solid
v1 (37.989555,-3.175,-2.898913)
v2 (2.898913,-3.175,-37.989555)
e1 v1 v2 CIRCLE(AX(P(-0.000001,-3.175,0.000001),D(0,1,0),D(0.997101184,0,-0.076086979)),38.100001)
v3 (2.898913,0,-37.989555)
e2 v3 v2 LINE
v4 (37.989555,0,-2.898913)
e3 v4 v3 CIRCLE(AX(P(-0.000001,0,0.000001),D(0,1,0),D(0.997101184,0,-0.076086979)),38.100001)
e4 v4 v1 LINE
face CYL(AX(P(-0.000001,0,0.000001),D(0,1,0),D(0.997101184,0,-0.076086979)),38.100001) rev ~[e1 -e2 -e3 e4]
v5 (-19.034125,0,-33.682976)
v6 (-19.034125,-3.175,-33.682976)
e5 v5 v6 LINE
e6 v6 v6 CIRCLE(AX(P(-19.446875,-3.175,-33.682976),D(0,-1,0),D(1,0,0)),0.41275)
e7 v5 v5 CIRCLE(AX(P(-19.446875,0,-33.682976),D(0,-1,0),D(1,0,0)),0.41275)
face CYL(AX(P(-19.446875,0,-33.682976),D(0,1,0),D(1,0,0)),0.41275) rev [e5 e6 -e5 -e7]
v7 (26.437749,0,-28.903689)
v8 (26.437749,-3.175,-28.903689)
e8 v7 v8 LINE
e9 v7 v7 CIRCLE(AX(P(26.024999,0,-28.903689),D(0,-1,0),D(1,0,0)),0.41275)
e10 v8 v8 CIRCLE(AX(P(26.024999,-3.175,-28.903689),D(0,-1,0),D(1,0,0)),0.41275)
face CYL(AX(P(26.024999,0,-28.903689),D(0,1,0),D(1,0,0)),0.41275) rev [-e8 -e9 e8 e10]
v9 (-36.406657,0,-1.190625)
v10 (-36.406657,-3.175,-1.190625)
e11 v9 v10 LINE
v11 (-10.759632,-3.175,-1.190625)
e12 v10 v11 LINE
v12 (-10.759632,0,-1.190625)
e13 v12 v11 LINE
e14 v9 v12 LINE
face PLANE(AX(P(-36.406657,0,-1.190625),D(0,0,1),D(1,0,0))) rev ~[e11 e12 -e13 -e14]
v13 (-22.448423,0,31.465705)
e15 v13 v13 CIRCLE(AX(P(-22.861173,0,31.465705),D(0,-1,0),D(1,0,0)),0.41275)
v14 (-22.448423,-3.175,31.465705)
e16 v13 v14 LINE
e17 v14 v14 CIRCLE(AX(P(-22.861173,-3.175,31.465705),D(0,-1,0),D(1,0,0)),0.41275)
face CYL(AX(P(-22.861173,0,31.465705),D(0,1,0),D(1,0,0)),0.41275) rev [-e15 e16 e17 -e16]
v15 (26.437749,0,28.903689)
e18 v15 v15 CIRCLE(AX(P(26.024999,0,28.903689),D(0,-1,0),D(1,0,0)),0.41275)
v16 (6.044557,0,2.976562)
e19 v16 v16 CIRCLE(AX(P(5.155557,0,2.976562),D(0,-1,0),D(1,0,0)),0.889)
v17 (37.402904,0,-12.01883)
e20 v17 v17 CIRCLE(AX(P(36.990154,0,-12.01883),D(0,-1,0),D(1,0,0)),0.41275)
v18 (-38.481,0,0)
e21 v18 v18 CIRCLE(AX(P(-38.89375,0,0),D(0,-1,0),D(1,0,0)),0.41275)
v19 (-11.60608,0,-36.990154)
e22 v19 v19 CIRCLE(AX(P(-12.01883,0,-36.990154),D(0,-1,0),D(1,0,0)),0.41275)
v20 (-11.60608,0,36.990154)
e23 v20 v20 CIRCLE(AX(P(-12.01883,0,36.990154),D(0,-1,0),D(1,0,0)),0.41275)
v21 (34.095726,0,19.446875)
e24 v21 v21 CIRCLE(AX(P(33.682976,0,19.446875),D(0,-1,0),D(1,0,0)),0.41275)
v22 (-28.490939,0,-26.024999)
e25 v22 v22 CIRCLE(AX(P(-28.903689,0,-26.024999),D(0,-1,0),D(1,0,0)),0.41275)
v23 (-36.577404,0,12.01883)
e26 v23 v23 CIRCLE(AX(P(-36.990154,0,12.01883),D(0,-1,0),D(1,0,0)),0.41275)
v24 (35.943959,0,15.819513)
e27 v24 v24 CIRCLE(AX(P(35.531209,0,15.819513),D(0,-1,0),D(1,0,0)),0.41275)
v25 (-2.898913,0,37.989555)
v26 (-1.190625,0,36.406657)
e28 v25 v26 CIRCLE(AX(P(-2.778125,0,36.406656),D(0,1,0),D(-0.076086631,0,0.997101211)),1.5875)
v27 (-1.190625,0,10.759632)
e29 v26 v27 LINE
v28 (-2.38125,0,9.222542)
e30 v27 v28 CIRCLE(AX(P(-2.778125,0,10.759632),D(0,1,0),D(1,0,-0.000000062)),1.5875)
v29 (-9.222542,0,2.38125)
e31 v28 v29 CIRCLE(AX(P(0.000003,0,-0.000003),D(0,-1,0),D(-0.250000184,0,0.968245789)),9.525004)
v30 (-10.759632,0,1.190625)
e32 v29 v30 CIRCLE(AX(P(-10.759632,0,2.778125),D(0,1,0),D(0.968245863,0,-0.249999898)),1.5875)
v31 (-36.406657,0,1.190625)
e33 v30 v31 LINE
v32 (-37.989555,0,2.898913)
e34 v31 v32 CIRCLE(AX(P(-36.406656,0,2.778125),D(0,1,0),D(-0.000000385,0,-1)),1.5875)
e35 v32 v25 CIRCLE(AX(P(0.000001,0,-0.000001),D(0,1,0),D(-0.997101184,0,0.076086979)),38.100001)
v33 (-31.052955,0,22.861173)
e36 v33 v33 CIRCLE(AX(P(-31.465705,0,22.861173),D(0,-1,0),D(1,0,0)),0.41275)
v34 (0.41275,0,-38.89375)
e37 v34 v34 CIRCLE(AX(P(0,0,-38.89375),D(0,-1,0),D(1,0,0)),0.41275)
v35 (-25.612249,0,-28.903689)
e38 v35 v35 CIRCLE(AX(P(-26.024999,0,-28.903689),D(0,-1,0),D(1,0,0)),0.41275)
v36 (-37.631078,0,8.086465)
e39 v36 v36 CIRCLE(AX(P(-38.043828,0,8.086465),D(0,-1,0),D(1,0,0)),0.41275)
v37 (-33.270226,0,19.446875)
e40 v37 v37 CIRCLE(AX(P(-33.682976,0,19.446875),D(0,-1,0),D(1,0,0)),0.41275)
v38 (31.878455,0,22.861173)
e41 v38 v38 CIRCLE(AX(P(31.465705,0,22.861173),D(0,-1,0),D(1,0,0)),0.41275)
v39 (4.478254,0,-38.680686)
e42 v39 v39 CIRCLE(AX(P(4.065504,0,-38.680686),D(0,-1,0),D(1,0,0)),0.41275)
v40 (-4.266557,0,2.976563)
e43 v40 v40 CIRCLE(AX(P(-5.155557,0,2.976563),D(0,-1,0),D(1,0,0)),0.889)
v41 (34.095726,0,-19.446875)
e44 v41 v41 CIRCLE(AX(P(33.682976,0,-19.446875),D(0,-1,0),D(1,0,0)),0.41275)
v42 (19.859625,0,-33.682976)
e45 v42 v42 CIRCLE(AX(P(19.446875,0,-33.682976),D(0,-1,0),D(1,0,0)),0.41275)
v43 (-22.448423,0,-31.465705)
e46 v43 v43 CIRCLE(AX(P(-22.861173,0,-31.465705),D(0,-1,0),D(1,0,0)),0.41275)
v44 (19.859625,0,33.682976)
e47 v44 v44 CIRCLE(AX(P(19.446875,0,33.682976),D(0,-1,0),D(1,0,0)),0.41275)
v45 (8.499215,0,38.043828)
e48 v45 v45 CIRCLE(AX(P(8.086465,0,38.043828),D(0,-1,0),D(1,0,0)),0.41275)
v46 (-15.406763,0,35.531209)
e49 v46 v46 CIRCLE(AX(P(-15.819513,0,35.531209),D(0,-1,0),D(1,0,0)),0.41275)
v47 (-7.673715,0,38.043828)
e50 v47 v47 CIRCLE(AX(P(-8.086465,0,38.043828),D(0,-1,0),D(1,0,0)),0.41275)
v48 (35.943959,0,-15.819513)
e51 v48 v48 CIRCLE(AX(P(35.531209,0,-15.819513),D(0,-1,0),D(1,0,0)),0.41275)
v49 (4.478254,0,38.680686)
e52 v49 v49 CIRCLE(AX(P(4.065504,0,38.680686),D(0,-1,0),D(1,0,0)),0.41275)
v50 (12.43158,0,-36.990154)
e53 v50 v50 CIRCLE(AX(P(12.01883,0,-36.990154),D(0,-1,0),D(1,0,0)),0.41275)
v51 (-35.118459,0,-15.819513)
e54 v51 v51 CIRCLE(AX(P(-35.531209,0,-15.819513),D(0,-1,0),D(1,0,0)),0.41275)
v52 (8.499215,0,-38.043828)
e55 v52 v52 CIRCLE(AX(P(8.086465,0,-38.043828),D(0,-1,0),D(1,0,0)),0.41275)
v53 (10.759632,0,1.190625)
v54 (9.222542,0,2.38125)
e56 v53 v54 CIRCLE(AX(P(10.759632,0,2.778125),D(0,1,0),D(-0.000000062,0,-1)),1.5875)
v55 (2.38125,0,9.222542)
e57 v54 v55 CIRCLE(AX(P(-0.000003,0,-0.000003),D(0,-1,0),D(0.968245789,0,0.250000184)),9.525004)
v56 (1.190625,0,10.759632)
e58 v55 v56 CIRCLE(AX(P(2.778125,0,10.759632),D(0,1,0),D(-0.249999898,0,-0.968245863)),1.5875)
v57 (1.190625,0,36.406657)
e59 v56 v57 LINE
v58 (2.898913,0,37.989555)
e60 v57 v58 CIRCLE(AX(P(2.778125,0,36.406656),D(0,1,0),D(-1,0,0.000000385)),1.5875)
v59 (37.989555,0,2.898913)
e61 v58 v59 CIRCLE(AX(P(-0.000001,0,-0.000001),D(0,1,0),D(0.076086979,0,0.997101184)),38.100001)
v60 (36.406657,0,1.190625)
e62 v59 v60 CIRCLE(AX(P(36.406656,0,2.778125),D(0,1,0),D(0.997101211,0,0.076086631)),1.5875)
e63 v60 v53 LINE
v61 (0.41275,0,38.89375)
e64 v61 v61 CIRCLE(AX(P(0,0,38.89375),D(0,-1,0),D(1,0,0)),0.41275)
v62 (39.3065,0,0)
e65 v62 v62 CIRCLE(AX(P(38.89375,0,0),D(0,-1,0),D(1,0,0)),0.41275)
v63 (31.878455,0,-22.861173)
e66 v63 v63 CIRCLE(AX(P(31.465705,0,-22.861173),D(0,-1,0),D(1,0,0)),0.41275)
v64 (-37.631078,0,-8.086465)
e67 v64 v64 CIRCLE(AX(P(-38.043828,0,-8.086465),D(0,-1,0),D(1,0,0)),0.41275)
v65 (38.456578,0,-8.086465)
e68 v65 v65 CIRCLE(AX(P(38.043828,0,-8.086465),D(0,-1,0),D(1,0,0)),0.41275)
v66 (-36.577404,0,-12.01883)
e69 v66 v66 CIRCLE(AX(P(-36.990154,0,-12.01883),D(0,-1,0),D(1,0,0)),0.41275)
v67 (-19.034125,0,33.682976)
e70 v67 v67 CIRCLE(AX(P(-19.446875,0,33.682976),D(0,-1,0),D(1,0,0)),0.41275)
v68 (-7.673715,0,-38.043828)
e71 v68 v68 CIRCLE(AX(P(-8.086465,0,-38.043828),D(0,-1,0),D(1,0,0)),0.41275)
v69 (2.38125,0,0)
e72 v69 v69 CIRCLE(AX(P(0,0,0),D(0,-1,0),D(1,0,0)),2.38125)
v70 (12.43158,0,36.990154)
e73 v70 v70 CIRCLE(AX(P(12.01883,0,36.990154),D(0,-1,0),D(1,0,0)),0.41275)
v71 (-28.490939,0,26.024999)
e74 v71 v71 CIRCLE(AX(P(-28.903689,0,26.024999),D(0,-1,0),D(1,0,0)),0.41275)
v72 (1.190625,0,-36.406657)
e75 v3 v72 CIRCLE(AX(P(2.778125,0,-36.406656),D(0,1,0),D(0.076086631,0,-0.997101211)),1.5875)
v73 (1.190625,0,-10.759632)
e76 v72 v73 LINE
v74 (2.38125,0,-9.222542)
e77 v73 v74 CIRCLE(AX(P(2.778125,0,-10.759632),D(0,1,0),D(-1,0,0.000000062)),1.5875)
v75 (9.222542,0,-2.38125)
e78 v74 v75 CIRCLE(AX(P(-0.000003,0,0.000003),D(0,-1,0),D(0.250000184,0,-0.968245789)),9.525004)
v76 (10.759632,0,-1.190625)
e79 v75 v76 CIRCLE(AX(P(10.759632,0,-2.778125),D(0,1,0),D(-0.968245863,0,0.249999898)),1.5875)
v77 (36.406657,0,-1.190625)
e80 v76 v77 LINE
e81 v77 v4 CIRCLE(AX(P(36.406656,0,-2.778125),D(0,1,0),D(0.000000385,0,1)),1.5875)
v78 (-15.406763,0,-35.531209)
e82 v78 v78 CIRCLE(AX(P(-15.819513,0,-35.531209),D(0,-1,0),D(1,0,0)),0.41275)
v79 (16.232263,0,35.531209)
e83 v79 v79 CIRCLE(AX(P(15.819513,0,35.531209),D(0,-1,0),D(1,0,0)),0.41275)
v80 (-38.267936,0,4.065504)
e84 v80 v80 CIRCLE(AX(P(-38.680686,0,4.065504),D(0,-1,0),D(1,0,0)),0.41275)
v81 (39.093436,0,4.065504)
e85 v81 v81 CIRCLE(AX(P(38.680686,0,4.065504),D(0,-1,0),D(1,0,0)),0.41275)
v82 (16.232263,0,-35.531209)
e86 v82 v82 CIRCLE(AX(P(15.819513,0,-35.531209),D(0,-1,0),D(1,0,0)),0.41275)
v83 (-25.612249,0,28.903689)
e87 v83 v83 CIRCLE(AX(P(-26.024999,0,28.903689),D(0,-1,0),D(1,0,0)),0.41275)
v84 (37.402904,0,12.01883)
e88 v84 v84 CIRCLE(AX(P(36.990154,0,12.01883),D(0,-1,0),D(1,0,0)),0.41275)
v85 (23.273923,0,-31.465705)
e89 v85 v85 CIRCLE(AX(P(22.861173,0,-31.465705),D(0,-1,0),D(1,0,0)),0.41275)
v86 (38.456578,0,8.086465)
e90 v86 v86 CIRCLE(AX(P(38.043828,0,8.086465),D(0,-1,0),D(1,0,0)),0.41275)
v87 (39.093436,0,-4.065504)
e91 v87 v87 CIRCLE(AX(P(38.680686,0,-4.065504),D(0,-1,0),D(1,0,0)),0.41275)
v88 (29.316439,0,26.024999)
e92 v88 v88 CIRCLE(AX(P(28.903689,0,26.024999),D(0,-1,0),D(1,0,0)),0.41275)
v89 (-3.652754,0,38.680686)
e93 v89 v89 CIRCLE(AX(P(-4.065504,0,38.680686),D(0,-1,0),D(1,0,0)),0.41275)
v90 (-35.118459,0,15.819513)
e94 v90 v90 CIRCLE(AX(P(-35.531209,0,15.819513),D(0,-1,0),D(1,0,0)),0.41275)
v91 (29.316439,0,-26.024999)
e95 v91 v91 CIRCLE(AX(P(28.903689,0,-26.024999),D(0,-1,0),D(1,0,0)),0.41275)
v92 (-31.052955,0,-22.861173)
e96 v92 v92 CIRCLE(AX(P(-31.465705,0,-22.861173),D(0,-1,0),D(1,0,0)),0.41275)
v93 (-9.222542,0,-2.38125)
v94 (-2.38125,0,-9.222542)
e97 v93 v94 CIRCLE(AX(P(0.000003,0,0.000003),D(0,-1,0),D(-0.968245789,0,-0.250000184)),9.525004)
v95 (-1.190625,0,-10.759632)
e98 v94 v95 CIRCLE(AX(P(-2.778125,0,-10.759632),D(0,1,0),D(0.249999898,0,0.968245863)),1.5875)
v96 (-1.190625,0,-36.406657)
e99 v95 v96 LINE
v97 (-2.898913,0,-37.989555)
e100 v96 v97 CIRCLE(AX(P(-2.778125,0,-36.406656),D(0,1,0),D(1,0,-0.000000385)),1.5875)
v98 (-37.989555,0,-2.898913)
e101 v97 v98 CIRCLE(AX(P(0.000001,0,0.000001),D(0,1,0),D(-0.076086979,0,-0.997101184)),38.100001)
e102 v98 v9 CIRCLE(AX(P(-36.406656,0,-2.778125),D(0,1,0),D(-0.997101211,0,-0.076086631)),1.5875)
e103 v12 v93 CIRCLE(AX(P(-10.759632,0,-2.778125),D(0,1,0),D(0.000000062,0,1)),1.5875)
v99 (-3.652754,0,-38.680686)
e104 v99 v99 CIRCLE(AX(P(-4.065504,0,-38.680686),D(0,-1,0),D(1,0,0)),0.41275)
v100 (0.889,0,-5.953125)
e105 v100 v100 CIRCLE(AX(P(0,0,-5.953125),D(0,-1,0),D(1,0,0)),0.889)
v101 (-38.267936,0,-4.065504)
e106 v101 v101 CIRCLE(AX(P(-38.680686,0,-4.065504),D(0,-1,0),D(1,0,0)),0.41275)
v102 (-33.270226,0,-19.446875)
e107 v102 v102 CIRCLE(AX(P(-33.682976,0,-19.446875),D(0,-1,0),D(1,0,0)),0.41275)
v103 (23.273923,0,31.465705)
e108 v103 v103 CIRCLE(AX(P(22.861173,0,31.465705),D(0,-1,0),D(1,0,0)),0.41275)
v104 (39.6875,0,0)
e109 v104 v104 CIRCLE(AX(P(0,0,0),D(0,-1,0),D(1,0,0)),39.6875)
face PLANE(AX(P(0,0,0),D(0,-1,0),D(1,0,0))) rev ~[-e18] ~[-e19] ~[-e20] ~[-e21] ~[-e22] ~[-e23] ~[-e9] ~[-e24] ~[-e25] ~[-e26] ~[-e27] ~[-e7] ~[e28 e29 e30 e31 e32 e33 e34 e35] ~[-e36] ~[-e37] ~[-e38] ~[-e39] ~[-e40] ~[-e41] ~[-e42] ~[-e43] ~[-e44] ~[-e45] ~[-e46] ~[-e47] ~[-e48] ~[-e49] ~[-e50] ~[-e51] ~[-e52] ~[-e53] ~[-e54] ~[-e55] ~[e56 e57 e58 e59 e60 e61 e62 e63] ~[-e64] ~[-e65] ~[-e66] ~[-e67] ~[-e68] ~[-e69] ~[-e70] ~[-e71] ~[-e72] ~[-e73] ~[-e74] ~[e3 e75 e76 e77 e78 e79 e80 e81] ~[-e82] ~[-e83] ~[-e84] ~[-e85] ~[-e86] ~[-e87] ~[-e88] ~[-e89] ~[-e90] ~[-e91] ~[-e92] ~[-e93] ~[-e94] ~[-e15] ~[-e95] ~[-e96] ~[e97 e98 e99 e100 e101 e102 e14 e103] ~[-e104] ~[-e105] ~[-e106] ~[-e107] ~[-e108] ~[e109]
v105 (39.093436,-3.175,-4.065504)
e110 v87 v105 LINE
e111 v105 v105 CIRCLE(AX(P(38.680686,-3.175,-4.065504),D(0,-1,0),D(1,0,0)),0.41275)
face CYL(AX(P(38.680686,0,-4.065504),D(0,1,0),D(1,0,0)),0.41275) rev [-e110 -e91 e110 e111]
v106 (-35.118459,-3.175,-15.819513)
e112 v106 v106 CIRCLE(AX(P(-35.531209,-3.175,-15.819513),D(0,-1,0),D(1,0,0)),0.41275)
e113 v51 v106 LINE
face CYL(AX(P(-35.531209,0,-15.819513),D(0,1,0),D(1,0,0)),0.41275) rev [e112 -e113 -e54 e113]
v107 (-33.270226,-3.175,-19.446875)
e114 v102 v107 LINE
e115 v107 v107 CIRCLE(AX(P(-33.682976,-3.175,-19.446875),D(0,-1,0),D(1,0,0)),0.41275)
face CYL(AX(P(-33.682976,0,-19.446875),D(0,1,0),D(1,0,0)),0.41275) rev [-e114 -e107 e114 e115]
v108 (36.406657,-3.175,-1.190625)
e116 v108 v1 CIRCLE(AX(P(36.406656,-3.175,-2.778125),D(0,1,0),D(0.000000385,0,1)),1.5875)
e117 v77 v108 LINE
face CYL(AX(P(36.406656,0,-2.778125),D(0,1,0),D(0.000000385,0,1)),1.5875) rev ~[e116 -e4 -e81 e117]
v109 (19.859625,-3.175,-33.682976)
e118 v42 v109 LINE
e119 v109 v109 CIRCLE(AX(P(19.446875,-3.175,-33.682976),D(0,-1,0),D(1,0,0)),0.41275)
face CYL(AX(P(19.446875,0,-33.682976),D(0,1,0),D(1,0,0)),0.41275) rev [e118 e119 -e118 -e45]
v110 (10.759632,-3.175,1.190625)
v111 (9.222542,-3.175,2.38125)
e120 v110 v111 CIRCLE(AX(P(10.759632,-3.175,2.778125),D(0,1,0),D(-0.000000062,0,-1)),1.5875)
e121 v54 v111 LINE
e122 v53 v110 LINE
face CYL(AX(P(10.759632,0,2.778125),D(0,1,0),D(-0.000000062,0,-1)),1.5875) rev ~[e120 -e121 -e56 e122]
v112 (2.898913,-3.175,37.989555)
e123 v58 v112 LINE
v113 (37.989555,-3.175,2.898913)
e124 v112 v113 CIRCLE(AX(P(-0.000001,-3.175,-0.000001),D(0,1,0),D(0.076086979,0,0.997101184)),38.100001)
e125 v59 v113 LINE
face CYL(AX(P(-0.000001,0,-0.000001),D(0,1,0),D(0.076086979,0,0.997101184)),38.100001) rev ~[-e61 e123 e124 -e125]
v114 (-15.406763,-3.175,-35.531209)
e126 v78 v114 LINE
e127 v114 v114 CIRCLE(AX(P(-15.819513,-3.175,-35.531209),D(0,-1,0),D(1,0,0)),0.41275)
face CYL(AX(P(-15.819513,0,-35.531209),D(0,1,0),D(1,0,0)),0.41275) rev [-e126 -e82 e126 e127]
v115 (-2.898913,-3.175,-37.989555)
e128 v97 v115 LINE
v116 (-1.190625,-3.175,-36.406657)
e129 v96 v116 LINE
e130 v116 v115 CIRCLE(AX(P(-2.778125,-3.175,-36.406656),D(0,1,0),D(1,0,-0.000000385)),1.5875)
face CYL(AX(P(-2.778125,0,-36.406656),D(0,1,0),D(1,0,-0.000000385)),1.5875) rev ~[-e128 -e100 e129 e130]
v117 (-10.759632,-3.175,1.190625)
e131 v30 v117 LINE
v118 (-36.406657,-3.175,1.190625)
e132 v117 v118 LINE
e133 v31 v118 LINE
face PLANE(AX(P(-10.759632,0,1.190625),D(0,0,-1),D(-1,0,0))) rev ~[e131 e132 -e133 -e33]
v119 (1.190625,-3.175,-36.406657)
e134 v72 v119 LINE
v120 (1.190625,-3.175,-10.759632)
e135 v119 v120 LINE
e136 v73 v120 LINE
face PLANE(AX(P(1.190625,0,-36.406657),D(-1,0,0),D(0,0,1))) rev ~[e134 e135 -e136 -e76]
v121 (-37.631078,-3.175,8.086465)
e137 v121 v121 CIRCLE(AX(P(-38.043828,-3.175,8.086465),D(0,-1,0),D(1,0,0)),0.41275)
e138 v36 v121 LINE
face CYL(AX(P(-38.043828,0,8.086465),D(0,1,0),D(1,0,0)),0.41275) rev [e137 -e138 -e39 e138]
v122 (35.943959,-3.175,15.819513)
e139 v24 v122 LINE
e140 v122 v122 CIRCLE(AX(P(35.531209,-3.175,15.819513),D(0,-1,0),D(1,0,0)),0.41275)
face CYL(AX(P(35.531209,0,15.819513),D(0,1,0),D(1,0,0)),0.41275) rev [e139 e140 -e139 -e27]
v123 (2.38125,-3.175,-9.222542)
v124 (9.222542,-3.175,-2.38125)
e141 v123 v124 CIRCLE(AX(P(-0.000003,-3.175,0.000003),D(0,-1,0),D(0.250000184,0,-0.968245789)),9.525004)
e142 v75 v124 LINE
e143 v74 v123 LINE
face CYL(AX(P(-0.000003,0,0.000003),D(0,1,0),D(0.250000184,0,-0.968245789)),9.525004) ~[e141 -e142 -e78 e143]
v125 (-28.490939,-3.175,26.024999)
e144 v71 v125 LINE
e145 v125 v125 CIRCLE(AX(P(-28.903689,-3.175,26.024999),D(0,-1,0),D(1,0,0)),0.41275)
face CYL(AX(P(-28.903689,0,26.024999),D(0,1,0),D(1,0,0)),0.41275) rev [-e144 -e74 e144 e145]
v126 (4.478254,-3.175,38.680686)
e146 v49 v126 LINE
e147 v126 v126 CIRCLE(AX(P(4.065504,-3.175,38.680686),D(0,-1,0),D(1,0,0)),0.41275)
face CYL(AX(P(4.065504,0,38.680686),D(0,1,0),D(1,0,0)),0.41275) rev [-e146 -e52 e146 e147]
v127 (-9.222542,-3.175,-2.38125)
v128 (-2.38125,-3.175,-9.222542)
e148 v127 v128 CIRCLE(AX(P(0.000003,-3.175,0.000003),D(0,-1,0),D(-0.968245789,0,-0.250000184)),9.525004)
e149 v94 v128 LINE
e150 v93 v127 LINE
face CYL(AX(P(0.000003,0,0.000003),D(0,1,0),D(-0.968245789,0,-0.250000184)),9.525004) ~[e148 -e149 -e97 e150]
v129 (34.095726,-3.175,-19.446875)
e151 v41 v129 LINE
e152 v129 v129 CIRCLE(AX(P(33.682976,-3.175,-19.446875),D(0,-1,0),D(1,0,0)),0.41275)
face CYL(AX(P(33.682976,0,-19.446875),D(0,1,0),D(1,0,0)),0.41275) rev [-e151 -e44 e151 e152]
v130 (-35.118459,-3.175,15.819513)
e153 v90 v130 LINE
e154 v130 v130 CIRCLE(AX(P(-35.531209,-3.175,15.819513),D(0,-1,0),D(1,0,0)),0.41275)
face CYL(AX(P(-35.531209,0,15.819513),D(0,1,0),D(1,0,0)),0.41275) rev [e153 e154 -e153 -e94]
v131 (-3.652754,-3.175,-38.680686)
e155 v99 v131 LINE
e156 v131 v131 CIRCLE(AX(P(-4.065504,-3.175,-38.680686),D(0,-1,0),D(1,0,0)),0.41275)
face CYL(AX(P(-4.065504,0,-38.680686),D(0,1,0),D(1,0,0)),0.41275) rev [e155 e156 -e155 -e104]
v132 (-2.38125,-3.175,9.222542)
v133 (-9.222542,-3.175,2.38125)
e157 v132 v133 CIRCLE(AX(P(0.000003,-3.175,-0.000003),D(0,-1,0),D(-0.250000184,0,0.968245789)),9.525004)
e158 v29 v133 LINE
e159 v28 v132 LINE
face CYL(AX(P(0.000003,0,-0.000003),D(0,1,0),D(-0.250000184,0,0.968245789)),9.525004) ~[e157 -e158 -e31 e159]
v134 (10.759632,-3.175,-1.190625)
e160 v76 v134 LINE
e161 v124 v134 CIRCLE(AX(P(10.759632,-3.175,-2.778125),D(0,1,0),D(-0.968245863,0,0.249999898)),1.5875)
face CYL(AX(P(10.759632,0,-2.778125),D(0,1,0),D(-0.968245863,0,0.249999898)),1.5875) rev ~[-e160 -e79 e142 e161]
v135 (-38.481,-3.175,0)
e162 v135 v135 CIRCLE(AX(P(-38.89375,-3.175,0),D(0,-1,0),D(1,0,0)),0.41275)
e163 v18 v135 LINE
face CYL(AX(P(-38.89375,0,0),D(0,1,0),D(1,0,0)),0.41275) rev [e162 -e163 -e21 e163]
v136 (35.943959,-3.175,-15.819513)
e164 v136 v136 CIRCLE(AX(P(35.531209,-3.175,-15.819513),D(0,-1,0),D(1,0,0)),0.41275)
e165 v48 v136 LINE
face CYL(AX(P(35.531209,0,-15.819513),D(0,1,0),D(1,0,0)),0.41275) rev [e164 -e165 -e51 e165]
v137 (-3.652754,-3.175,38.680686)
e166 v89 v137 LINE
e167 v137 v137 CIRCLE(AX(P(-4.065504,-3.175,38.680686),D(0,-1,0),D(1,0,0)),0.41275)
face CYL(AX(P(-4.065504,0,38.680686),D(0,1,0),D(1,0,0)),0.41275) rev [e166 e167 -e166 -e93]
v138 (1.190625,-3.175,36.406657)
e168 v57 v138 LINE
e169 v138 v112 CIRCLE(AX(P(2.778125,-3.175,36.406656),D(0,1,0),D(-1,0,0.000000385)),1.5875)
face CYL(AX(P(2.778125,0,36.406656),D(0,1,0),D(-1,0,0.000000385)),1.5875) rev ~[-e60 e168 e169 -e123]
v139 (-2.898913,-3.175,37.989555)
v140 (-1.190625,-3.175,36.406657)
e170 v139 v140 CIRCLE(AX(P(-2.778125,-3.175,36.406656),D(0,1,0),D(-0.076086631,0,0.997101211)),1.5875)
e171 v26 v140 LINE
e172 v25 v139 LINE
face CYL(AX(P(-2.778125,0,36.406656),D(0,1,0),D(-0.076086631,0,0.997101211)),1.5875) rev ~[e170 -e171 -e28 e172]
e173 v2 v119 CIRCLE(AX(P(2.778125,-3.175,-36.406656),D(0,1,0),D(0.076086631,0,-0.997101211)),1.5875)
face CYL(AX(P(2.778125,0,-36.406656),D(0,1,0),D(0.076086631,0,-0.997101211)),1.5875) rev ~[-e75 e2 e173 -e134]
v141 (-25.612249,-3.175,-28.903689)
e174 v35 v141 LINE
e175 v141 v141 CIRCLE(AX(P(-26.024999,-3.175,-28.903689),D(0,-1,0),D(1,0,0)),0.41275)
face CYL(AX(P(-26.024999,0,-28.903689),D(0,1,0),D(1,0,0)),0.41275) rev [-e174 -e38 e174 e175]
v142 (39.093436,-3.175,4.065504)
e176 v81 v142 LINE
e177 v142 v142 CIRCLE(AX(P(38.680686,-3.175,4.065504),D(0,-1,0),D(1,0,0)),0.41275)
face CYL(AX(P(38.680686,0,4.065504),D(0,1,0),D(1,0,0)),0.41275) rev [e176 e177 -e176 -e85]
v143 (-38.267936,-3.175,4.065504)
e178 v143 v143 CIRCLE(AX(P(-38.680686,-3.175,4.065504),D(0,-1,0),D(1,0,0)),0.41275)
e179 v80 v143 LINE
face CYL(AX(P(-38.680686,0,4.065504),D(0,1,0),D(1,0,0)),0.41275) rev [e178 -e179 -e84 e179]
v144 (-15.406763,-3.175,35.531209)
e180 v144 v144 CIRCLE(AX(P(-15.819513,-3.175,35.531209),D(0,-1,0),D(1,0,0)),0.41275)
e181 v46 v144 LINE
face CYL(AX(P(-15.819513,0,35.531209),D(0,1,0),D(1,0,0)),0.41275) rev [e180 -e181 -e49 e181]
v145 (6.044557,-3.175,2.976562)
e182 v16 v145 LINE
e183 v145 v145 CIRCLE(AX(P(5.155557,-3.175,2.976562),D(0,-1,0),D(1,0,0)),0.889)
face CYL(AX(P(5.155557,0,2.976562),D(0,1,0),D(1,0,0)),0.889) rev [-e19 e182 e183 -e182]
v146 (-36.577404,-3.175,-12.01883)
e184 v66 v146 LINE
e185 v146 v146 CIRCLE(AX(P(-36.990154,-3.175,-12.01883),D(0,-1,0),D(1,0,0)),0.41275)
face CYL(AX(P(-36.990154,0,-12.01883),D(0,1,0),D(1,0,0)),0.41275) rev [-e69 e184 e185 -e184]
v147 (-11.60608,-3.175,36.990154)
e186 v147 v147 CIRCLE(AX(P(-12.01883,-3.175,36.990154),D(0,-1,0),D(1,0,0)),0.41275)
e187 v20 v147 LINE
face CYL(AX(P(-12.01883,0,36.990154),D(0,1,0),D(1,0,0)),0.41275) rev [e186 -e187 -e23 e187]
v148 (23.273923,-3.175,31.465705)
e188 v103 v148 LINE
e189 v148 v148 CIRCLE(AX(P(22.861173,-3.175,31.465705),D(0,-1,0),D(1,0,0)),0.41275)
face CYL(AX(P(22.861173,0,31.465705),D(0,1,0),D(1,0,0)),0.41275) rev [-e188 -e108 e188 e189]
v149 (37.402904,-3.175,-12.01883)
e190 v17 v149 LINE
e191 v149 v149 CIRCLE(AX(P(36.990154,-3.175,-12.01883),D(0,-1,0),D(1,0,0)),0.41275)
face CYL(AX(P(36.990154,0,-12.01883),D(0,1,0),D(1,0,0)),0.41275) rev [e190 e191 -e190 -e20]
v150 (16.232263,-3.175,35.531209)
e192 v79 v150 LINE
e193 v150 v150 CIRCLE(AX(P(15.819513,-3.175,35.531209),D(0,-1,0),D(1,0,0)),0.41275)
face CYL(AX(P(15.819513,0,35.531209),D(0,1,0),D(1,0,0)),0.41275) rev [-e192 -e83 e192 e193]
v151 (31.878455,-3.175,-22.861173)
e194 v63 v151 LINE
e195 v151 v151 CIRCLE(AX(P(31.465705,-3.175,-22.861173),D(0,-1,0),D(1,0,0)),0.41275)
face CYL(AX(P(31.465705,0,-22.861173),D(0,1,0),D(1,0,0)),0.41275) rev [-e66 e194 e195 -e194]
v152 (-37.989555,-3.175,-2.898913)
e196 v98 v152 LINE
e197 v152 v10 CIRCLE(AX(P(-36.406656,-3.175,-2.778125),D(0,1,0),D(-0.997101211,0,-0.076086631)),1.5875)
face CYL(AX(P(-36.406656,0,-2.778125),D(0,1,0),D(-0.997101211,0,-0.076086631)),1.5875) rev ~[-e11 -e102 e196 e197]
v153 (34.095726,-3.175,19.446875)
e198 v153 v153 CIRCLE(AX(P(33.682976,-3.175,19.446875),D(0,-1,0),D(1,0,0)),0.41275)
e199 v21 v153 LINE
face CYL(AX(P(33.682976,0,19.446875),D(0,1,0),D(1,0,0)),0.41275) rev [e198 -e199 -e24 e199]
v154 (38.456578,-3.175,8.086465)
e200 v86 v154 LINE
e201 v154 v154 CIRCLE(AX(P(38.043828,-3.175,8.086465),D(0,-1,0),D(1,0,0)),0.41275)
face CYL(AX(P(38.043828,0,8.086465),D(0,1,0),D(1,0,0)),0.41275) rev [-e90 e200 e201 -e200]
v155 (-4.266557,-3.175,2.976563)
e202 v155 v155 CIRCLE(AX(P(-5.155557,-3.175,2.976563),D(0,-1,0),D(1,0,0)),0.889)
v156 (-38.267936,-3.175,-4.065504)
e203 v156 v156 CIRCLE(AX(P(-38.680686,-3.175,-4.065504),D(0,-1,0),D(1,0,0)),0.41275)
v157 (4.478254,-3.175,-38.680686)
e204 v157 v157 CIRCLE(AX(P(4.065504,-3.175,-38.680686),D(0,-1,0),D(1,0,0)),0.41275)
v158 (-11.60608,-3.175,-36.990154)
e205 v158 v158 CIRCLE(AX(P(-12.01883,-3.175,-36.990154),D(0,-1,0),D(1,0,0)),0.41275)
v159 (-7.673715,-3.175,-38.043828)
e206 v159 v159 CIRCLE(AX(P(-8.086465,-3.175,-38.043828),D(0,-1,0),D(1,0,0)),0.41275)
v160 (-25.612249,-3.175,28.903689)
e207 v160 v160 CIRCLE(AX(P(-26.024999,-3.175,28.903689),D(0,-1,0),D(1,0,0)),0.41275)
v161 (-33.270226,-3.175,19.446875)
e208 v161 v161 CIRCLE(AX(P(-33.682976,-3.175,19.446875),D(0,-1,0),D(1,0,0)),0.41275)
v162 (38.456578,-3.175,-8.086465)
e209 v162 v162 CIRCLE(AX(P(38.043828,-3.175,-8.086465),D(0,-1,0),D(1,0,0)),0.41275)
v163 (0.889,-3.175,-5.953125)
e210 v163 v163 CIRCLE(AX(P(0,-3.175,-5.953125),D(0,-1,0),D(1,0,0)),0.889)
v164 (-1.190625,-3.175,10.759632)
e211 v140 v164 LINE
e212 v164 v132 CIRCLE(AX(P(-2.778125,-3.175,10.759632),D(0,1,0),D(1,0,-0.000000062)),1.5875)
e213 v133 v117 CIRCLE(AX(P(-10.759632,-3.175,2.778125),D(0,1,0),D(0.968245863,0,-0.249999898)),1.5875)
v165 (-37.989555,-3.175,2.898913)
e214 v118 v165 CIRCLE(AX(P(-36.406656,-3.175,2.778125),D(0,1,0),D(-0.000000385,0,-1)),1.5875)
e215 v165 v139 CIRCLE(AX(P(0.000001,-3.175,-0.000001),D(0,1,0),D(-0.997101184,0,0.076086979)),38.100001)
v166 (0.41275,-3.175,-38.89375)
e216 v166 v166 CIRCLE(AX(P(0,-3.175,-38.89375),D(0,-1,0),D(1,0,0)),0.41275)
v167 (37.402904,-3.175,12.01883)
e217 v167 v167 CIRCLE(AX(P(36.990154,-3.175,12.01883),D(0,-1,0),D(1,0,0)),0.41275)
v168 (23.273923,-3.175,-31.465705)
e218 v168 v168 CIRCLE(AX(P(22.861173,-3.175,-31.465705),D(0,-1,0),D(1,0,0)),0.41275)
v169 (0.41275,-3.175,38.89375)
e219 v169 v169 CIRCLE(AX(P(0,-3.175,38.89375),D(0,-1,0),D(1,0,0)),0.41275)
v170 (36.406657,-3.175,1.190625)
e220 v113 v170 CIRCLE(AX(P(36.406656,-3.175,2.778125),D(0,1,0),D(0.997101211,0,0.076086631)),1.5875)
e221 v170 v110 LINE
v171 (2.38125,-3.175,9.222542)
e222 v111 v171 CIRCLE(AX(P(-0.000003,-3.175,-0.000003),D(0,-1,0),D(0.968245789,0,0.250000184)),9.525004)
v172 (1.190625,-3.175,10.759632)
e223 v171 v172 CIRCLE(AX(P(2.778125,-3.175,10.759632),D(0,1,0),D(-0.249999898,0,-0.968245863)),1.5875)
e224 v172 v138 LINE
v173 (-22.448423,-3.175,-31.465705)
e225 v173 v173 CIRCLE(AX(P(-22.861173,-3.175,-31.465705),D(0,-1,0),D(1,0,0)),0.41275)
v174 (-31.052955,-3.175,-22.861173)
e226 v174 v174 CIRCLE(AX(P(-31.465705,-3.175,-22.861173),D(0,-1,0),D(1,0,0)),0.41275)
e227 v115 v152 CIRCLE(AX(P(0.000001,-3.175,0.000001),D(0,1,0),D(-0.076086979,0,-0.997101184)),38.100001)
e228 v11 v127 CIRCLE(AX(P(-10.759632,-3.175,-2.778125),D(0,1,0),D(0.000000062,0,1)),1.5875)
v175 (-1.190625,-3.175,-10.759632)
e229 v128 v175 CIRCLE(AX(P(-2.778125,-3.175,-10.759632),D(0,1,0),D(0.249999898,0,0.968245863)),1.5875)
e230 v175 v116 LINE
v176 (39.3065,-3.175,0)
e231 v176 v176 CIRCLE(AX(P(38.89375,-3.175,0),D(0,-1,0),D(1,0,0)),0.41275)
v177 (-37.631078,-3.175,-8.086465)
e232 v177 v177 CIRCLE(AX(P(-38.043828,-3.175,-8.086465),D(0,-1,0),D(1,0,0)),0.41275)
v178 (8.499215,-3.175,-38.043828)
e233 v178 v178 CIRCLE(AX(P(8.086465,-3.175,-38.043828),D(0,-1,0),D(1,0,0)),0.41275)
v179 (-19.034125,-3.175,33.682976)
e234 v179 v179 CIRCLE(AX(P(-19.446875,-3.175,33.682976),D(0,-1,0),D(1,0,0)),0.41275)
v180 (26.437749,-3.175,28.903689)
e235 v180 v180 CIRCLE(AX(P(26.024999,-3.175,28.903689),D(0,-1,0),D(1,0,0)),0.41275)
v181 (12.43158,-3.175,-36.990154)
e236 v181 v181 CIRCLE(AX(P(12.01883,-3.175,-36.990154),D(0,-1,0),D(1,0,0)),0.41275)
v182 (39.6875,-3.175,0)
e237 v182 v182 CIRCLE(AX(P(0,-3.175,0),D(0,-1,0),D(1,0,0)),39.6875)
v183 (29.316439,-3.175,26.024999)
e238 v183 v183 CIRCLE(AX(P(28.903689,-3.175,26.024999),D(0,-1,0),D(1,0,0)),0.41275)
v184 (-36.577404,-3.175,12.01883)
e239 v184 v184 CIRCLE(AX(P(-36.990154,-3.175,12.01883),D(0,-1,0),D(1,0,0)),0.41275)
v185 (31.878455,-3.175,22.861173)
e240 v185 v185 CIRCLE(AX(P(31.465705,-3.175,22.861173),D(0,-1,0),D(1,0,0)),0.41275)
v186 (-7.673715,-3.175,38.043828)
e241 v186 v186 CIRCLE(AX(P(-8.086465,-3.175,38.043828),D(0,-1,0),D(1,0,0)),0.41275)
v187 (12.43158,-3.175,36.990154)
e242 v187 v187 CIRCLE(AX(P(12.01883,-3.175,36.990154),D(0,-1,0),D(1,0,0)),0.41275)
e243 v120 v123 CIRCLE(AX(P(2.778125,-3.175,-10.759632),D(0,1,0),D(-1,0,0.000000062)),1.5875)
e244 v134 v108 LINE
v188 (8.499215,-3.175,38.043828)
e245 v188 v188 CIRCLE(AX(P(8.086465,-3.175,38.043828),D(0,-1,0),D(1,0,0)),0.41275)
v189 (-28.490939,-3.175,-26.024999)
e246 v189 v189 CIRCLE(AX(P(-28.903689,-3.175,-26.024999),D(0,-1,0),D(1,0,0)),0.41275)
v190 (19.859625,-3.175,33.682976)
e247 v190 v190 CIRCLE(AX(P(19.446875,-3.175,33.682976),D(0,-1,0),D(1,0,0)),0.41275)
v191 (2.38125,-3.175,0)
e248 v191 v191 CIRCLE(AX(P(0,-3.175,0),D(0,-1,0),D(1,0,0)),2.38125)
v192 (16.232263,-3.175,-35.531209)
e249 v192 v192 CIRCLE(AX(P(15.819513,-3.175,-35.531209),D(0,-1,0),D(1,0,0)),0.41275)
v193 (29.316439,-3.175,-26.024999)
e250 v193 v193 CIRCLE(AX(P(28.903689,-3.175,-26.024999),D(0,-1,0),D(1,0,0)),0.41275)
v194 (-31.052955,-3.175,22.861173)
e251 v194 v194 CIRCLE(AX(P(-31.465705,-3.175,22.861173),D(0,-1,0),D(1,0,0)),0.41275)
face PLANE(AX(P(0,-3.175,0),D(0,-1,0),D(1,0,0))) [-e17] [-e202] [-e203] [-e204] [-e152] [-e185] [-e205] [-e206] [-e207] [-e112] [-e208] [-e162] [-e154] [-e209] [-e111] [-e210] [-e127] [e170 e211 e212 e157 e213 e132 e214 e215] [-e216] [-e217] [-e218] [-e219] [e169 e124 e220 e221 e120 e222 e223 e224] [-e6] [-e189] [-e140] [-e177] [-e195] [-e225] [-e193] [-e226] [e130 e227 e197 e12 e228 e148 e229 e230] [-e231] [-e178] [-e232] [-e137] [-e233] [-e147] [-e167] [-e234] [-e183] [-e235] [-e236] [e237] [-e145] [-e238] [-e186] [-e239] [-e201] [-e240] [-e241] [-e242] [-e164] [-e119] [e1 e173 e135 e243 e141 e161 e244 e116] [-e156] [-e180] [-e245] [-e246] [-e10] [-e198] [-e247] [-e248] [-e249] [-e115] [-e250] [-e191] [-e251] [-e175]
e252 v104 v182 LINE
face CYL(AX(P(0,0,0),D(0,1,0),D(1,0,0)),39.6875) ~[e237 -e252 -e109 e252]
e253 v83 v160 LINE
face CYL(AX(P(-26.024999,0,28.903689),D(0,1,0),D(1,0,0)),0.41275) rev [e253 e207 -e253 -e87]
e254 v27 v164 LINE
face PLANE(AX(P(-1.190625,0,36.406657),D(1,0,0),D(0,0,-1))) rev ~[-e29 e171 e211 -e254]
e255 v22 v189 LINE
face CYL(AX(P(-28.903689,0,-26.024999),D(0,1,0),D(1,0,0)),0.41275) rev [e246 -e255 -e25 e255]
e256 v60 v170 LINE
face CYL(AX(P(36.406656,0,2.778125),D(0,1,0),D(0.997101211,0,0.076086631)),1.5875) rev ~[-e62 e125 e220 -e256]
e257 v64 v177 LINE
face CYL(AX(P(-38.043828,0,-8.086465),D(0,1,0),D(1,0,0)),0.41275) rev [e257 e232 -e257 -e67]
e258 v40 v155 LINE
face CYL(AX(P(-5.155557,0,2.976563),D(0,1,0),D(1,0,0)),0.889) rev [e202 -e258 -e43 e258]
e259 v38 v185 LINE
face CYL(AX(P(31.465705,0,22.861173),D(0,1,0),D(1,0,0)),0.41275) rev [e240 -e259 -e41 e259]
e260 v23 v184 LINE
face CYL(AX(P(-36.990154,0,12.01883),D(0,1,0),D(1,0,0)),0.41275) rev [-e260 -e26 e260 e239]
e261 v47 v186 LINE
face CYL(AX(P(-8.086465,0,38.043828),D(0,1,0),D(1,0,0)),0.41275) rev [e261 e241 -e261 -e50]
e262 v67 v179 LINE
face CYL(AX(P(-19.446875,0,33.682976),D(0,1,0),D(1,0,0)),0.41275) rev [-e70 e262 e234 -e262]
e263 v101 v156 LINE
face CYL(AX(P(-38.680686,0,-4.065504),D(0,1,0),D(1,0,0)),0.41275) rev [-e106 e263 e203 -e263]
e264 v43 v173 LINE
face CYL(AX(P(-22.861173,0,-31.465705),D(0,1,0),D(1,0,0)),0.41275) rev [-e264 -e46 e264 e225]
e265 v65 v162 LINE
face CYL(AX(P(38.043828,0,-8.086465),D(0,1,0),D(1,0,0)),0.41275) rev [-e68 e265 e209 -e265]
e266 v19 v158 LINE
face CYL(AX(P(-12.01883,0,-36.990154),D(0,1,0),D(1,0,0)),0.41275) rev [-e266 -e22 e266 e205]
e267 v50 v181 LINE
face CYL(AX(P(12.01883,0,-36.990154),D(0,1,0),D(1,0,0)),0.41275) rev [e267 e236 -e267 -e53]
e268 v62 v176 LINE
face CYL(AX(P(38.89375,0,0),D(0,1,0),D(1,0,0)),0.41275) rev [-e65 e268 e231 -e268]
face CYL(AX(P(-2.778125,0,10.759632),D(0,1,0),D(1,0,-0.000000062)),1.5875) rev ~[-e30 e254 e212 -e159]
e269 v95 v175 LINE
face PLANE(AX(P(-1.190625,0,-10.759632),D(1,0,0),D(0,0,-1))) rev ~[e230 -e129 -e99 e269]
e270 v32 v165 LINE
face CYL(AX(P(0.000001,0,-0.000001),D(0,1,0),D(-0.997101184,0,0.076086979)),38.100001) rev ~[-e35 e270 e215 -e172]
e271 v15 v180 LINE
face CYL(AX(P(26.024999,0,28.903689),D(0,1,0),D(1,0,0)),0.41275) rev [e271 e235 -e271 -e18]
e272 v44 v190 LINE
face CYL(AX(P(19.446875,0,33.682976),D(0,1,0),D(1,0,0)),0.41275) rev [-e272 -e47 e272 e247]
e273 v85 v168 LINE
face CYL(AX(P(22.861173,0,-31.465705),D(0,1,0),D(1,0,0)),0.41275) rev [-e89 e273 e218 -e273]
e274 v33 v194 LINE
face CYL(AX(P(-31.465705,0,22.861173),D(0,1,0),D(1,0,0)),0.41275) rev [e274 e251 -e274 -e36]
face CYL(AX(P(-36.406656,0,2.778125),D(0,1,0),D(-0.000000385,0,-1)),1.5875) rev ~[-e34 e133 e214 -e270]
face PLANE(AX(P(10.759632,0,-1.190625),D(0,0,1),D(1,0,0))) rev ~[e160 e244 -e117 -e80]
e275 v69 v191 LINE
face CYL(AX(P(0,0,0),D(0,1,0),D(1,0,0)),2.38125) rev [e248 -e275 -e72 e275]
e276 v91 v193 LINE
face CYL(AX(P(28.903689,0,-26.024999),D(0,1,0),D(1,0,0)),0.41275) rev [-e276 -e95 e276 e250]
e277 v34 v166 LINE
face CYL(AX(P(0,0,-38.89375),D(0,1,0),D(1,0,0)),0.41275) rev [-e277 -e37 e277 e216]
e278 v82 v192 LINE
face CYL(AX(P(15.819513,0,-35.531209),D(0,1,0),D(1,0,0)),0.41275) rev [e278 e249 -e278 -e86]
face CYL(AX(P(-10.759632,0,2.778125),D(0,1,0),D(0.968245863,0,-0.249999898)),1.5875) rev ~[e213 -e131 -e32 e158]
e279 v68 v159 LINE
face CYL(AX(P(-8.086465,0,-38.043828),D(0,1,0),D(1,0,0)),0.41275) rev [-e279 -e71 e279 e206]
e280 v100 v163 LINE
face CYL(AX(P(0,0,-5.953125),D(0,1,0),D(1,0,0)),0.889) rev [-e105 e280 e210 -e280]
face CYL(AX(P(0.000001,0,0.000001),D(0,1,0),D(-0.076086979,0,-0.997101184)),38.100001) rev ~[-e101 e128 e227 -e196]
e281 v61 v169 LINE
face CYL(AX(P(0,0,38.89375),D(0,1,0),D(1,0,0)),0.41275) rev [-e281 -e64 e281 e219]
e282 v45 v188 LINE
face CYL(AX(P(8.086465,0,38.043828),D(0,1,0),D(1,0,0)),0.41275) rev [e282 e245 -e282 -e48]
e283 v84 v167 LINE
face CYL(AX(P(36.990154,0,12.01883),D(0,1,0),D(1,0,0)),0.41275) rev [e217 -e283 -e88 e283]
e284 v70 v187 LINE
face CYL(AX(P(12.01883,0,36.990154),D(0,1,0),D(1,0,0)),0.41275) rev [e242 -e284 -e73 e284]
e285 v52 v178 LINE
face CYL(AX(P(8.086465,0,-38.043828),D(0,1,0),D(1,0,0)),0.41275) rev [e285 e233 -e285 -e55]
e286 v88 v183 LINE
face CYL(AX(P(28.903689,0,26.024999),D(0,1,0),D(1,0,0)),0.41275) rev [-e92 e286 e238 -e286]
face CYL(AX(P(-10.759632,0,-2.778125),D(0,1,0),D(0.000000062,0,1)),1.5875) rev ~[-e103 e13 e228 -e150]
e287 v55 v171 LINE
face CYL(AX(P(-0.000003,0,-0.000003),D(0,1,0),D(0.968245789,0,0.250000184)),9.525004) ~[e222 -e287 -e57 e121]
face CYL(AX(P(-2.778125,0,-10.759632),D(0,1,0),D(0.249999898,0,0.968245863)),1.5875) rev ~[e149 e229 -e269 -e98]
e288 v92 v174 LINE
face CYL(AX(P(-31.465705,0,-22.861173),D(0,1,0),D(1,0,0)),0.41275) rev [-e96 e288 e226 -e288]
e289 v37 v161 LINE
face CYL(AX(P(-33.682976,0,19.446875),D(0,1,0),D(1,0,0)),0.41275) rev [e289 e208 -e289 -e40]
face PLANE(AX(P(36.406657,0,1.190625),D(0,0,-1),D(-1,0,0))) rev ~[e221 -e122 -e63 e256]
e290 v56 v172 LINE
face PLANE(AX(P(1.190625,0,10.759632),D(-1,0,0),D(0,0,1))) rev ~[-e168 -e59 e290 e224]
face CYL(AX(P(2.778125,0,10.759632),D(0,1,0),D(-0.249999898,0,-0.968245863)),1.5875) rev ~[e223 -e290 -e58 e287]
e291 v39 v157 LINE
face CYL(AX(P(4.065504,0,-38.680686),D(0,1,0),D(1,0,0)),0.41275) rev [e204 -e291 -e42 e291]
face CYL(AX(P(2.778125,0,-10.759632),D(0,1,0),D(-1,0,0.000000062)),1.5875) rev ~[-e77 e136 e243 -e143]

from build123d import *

# Parameters (mm, degrees)
F0_R     = 39.6875
F0_R_2   = 0.41275
F0_R_3   = 0.889
F0_R_4   = 2.38125
F1_DEPTH = 3.175


with BuildPart() as f1:
    # F0 (on Front) → F1 (new body)
    with BuildSketch(Plane.XZ):
        Circle(F0_R)
        with Locations((-22.861173, -31.465705)):
            Circle(F0_R_2, mode=Mode.SUBTRACT)
        with Locations((-31.465705, -22.861173)):
            Circle(F0_R_2, mode=Mode.SUBTRACT)
        with Locations((-26.024999, -28.903689)):
            Circle(F0_R_2, mode=Mode.SUBTRACT)
        with Locations((-28.903689, -26.024999)):
            Circle(F0_R_2, mode=Mode.SUBTRACT)
        with Locations((-15.819513, -35.531209)):
            Circle(F0_R_2, mode=Mode.SUBTRACT)
        with Locations((-12.01883, -36.990154)):
            Circle(F0_R_2, mode=Mode.SUBTRACT)
        with Locations((-19.446875, -33.682976)):
            Circle(F0_R_2, mode=Mode.SUBTRACT)
        with Locations((-8.086465, -38.043828)):
            Circle(F0_R_2, mode=Mode.SUBTRACT)
        with Locations((-4.065504, -38.680686)):
            Circle(F0_R_2, mode=Mode.SUBTRACT)
        with Locations((-35.531209, -15.819513)):
            Circle(F0_R_2, mode=Mode.SUBTRACT)
        with Locations((-33.682976, -19.446875)):
            Circle(F0_R_2, mode=Mode.SUBTRACT)
        with Locations((-36.990154, -12.01883)):
            Circle(F0_R_2, mode=Mode.SUBTRACT)
        with Locations((-38.043828, -8.086465)):
            Circle(F0_R_2, mode=Mode.SUBTRACT)
        with Locations((-38.680686, -4.065504)):
            Circle(F0_R_2, mode=Mode.SUBTRACT)
        with BuildLine():
            ThreePointArc((-37.989555, -2.898913), (-37.571111, -1.699143), (-36.406657, -1.190625))
            Line((-36.406657, -1.190625), (-10.759632, -1.190625))
            ThreePointArc((-10.759632, -1.190625), (-9.787491, -1.523096), (-9.222542, -2.38125))
            ThreePointArc((-9.222542, -2.38125), (-6.735192, -6.735192), (-2.38125, -9.222542))
            ThreePointArc((-2.38125, -9.222542), (-1.523096, -9.787491), (-1.190625, -10.759632))
            Line((-1.190625, -10.759632), (-1.190625, -36.406657))
            ThreePointArc((-1.190625, -36.406657), (-1.699143, -37.571111), (-2.898913, -37.989555))
            ThreePointArc((-2.898913, -37.989555), (-26.940768, -26.940768), (-37.989555, -2.898913))
        make_face(mode=Mode.SUBTRACT)
        with Locations((0, -38.89375)):
            Circle(F0_R_2, mode=Mode.SUBTRACT)
        with Locations((4.065504, -38.680686)):
            Circle(F0_R_2, mode=Mode.SUBTRACT)
        with Locations((8.086465, -38.043828)):
            Circle(F0_R_2, mode=Mode.SUBTRACT)
        with Locations((12.01883, -36.990154)):
            Circle(F0_R_2, mode=Mode.SUBTRACT)
        with Locations((15.819513, -35.531209)):
            Circle(F0_R_2, mode=Mode.SUBTRACT)
        with Locations((19.446875, -33.682976)):
            Circle(F0_R_2, mode=Mode.SUBTRACT)
        with Locations((22.861173, -31.465705)):
            Circle(F0_R_2, mode=Mode.SUBTRACT)
        with Locations((26.024999, -28.903689)):
            Circle(F0_R_2, mode=Mode.SUBTRACT)
        with Locations((28.903689, -26.024999)):
            Circle(F0_R_2, mode=Mode.SUBTRACT)
        with Locations((31.465705, -22.861173)):
            Circle(F0_R_2, mode=Mode.SUBTRACT)
        with BuildLine():
            ThreePointArc((2.898913, -37.989555), (1.699143, -37.571111), (1.190625, -36.406657))
            Line((1.190625, -36.406657), (1.190625, -10.759632))
            ThreePointArc((1.190625, -10.759632), (1.523096, -9.787491), (2.38125, -9.222542))
            ThreePointArc((2.38125, -9.222542), (6.735192, -6.735192), (9.222542, -2.38125))
            ThreePointArc((9.222542, -2.38125), (9.787491, -1.523096), (10.759632, -1.190625))
            Line((10.759632, -1.190625), (36.406657, -1.190625))
            ThreePointArc((36.406657, -1.190625), (37.571111, -1.699143), (37.989555, -2.898913))
            ThreePointArc((37.989555, -2.898913), (26.940768, -26.940768), (2.898913, -37.989555))
        make_face(mode=Mode.SUBTRACT)
        with Locations((0, -5.953125)):
            Circle(F0_R_3, mode=Mode.SUBTRACT)
        with Locations((33.682976, -19.446875)):
            Circle(F0_R_2, mode=Mode.SUBTRACT)
        with Locations((35.531209, -15.819513)):
            Circle(F0_R_2, mode=Mode.SUBTRACT)
        with Locations((36.990154, -12.01883)):
            Circle(F0_R_2, mode=Mode.SUBTRACT)
        with Locations((38.043828, -8.086465)):
            Circle(F0_R_2, mode=Mode.SUBTRACT)
        with Locations((38.680686, -4.065504)):
            Circle(F0_R_2, mode=Mode.SUBTRACT)
        with Locations((-38.89375, 0)):
            Circle(F0_R_2, mode=Mode.SUBTRACT)
        with Locations((-38.680686, 4.065504)):
            Circle(F0_R_2, mode=Mode.SUBTRACT)
        with Locations((-38.043828, 8.086465)):
            Circle(F0_R_2, mode=Mode.SUBTRACT)
        with Locations((-36.990154, 12.01883)):
            Circle(F0_R_2, mode=Mode.SUBTRACT)
        with Locations((-35.531209, 15.819513)):
            Circle(F0_R_2, mode=Mode.SUBTRACT)
        with Locations((-33.682976, 19.446875)):
            Circle(F0_R_2, mode=Mode.SUBTRACT)
        with Locations((-5.155557, 2.976563)):
            Circle(F0_R_3, mode=Mode.SUBTRACT)
        with BuildLine():
            ThreePointArc((-37.989555, 2.898913), (-26.940768, 26.940768), (-2.898913, 37.989555))
            ThreePointArc((-2.898913, 37.989555), (-1.699143, 37.571111), (-1.190625, 36.406657))
            Line((-1.190625, 36.406657), (-1.190625, 10.759632))
            ThreePointArc((-1.190625, 10.759632), (-1.523096, 9.787491), (-2.38125, 9.222542))
            ThreePointArc((-2.38125, 9.222542), (-6.735192, 6.735192), (-9.222542, 2.38125))
            ThreePointArc((-9.222542, 2.38125), (-9.787491, 1.523096), (-10.759632, 1.190625))
            Line((-10.759632, 1.190625), (-36.406657, 1.190625))
            ThreePointArc((-36.406657, 1.190625), (-37.571111, 1.699143), (-37.989555, 2.898913))
        make_face(mode=Mode.SUBTRACT)
        with Locations((-31.465705, 22.861173)):
            Circle(F0_R_2, mode=Mode.SUBTRACT)
        with Locations((-28.903689, 26.024999)):
            Circle(F0_R_2, mode=Mode.SUBTRACT)
        with Locations((-26.024999, 28.903689)):
            Circle(F0_R_2, mode=Mode.SUBTRACT)
        with Locations((-22.861173, 31.465705)):
            Circle(F0_R_2, mode=Mode.SUBTRACT)
        with Locations((-19.446875, 33.682976)):
            Circle(F0_R_2, mode=Mode.SUBTRACT)
        with Locations((-15.819513, 35.531209)):
            Circle(F0_R_2, mode=Mode.SUBTRACT)
        with Locations((-12.01883, 36.990154)):
            Circle(F0_R_2, mode=Mode.SUBTRACT)
        with Locations((-8.086465, 38.043828)):
            Circle(F0_R_2, mode=Mode.SUBTRACT)
        with Locations((-4.065504, 38.680686)):
            Circle(F0_R_2, mode=Mode.SUBTRACT)
        Circle(F0_R_4, mode=Mode.SUBTRACT)
        with Locations((5.155557, 2.976562)):
            Circle(F0_R_3, mode=Mode.SUBTRACT)
        with BuildLine():
            Line((1.190625, 10.759632), (1.190625, 36.406657))
            ThreePointArc((1.190625, 36.406657), (1.699143, 37.571111), (2.898913, 37.989555))
            ThreePointArc((2.898913, 37.989555), (26.940768, 26.940768), (37.989555, 2.898913))
            ThreePointArc((37.989555, 2.898913), (37.571111, 1.699143), (36.406657, 1.190625))
            Line((36.406657, 1.190625), (10.759632, 1.190625))
            ThreePointArc((10.759632, 1.190625), (9.787491, 1.523096), (9.222542, 2.38125))
            ThreePointArc((9.222542, 2.38125), (6.735192, 6.735192), (2.38125, 9.222542))
            ThreePointArc((2.38125, 9.222542), (1.523096, 9.787491), (1.190625, 10.759632))
        make_face(mode=Mode.SUBTRACT)
        with Locations((38.89375, 0)):
            Circle(F0_R_2, mode=Mode.SUBTRACT)
        with Locations((38.680686, 4.065504)):
            Circle(F0_R_2, mode=Mode.SUBTRACT)
        with Locations((38.043828, 8.086465)):
            Circle(F0_R_2, mode=Mode.SUBTRACT)
        with Locations((36.990154, 12.01883)):
            Circle(F0_R_2, mode=Mode.SUBTRACT)
        with Locations((33.682976, 19.446875)):
            Circle(F0_R_2, mode=Mode.SUBTRACT)
        with Locations((35.531209, 15.819513)):
            Circle(F0_R_2, mode=Mode.SUBTRACT)
        with Locations((0, 38.89375)):
            Circle(F0_R_2, mode=Mode.SUBTRACT)
        with Locations((4.065504, 38.680686)):
            Circle(F0_R_2, mode=Mode.SUBTRACT)
        with Locations((8.086465, 38.043828)):
            Circle(F0_R_2, mode=Mode.SUBTRACT)
        with Locations((19.446875, 33.682976)):
            Circle(F0_R_2, mode=Mode.SUBTRACT)
        with Locations((12.01883, 36.990154)):
            Circle(F0_R_2, mode=Mode.SUBTRACT)
        with Locations((15.819513, 35.531209)):
            Circle(F0_R_2, mode=Mode.SUBTRACT)
        with Locations((28.903689, 26.024999)):
            Circle(F0_R_2, mode=Mode.SUBTRACT)
        with Locations((26.024999, 28.903689)):
            Circle(F0_R_2, mode=Mode.SUBTRACT)
        with Locations((31.465705, 22.861173)):
            Circle(F0_R_2, mode=Mode.SUBTRACT)
        with Locations((22.861173, 31.465705)):
            Circle(F0_R_2, mode=Mode.SUBTRACT)
    extrude(amount=F1_DEPTH)


solid = f1.part
